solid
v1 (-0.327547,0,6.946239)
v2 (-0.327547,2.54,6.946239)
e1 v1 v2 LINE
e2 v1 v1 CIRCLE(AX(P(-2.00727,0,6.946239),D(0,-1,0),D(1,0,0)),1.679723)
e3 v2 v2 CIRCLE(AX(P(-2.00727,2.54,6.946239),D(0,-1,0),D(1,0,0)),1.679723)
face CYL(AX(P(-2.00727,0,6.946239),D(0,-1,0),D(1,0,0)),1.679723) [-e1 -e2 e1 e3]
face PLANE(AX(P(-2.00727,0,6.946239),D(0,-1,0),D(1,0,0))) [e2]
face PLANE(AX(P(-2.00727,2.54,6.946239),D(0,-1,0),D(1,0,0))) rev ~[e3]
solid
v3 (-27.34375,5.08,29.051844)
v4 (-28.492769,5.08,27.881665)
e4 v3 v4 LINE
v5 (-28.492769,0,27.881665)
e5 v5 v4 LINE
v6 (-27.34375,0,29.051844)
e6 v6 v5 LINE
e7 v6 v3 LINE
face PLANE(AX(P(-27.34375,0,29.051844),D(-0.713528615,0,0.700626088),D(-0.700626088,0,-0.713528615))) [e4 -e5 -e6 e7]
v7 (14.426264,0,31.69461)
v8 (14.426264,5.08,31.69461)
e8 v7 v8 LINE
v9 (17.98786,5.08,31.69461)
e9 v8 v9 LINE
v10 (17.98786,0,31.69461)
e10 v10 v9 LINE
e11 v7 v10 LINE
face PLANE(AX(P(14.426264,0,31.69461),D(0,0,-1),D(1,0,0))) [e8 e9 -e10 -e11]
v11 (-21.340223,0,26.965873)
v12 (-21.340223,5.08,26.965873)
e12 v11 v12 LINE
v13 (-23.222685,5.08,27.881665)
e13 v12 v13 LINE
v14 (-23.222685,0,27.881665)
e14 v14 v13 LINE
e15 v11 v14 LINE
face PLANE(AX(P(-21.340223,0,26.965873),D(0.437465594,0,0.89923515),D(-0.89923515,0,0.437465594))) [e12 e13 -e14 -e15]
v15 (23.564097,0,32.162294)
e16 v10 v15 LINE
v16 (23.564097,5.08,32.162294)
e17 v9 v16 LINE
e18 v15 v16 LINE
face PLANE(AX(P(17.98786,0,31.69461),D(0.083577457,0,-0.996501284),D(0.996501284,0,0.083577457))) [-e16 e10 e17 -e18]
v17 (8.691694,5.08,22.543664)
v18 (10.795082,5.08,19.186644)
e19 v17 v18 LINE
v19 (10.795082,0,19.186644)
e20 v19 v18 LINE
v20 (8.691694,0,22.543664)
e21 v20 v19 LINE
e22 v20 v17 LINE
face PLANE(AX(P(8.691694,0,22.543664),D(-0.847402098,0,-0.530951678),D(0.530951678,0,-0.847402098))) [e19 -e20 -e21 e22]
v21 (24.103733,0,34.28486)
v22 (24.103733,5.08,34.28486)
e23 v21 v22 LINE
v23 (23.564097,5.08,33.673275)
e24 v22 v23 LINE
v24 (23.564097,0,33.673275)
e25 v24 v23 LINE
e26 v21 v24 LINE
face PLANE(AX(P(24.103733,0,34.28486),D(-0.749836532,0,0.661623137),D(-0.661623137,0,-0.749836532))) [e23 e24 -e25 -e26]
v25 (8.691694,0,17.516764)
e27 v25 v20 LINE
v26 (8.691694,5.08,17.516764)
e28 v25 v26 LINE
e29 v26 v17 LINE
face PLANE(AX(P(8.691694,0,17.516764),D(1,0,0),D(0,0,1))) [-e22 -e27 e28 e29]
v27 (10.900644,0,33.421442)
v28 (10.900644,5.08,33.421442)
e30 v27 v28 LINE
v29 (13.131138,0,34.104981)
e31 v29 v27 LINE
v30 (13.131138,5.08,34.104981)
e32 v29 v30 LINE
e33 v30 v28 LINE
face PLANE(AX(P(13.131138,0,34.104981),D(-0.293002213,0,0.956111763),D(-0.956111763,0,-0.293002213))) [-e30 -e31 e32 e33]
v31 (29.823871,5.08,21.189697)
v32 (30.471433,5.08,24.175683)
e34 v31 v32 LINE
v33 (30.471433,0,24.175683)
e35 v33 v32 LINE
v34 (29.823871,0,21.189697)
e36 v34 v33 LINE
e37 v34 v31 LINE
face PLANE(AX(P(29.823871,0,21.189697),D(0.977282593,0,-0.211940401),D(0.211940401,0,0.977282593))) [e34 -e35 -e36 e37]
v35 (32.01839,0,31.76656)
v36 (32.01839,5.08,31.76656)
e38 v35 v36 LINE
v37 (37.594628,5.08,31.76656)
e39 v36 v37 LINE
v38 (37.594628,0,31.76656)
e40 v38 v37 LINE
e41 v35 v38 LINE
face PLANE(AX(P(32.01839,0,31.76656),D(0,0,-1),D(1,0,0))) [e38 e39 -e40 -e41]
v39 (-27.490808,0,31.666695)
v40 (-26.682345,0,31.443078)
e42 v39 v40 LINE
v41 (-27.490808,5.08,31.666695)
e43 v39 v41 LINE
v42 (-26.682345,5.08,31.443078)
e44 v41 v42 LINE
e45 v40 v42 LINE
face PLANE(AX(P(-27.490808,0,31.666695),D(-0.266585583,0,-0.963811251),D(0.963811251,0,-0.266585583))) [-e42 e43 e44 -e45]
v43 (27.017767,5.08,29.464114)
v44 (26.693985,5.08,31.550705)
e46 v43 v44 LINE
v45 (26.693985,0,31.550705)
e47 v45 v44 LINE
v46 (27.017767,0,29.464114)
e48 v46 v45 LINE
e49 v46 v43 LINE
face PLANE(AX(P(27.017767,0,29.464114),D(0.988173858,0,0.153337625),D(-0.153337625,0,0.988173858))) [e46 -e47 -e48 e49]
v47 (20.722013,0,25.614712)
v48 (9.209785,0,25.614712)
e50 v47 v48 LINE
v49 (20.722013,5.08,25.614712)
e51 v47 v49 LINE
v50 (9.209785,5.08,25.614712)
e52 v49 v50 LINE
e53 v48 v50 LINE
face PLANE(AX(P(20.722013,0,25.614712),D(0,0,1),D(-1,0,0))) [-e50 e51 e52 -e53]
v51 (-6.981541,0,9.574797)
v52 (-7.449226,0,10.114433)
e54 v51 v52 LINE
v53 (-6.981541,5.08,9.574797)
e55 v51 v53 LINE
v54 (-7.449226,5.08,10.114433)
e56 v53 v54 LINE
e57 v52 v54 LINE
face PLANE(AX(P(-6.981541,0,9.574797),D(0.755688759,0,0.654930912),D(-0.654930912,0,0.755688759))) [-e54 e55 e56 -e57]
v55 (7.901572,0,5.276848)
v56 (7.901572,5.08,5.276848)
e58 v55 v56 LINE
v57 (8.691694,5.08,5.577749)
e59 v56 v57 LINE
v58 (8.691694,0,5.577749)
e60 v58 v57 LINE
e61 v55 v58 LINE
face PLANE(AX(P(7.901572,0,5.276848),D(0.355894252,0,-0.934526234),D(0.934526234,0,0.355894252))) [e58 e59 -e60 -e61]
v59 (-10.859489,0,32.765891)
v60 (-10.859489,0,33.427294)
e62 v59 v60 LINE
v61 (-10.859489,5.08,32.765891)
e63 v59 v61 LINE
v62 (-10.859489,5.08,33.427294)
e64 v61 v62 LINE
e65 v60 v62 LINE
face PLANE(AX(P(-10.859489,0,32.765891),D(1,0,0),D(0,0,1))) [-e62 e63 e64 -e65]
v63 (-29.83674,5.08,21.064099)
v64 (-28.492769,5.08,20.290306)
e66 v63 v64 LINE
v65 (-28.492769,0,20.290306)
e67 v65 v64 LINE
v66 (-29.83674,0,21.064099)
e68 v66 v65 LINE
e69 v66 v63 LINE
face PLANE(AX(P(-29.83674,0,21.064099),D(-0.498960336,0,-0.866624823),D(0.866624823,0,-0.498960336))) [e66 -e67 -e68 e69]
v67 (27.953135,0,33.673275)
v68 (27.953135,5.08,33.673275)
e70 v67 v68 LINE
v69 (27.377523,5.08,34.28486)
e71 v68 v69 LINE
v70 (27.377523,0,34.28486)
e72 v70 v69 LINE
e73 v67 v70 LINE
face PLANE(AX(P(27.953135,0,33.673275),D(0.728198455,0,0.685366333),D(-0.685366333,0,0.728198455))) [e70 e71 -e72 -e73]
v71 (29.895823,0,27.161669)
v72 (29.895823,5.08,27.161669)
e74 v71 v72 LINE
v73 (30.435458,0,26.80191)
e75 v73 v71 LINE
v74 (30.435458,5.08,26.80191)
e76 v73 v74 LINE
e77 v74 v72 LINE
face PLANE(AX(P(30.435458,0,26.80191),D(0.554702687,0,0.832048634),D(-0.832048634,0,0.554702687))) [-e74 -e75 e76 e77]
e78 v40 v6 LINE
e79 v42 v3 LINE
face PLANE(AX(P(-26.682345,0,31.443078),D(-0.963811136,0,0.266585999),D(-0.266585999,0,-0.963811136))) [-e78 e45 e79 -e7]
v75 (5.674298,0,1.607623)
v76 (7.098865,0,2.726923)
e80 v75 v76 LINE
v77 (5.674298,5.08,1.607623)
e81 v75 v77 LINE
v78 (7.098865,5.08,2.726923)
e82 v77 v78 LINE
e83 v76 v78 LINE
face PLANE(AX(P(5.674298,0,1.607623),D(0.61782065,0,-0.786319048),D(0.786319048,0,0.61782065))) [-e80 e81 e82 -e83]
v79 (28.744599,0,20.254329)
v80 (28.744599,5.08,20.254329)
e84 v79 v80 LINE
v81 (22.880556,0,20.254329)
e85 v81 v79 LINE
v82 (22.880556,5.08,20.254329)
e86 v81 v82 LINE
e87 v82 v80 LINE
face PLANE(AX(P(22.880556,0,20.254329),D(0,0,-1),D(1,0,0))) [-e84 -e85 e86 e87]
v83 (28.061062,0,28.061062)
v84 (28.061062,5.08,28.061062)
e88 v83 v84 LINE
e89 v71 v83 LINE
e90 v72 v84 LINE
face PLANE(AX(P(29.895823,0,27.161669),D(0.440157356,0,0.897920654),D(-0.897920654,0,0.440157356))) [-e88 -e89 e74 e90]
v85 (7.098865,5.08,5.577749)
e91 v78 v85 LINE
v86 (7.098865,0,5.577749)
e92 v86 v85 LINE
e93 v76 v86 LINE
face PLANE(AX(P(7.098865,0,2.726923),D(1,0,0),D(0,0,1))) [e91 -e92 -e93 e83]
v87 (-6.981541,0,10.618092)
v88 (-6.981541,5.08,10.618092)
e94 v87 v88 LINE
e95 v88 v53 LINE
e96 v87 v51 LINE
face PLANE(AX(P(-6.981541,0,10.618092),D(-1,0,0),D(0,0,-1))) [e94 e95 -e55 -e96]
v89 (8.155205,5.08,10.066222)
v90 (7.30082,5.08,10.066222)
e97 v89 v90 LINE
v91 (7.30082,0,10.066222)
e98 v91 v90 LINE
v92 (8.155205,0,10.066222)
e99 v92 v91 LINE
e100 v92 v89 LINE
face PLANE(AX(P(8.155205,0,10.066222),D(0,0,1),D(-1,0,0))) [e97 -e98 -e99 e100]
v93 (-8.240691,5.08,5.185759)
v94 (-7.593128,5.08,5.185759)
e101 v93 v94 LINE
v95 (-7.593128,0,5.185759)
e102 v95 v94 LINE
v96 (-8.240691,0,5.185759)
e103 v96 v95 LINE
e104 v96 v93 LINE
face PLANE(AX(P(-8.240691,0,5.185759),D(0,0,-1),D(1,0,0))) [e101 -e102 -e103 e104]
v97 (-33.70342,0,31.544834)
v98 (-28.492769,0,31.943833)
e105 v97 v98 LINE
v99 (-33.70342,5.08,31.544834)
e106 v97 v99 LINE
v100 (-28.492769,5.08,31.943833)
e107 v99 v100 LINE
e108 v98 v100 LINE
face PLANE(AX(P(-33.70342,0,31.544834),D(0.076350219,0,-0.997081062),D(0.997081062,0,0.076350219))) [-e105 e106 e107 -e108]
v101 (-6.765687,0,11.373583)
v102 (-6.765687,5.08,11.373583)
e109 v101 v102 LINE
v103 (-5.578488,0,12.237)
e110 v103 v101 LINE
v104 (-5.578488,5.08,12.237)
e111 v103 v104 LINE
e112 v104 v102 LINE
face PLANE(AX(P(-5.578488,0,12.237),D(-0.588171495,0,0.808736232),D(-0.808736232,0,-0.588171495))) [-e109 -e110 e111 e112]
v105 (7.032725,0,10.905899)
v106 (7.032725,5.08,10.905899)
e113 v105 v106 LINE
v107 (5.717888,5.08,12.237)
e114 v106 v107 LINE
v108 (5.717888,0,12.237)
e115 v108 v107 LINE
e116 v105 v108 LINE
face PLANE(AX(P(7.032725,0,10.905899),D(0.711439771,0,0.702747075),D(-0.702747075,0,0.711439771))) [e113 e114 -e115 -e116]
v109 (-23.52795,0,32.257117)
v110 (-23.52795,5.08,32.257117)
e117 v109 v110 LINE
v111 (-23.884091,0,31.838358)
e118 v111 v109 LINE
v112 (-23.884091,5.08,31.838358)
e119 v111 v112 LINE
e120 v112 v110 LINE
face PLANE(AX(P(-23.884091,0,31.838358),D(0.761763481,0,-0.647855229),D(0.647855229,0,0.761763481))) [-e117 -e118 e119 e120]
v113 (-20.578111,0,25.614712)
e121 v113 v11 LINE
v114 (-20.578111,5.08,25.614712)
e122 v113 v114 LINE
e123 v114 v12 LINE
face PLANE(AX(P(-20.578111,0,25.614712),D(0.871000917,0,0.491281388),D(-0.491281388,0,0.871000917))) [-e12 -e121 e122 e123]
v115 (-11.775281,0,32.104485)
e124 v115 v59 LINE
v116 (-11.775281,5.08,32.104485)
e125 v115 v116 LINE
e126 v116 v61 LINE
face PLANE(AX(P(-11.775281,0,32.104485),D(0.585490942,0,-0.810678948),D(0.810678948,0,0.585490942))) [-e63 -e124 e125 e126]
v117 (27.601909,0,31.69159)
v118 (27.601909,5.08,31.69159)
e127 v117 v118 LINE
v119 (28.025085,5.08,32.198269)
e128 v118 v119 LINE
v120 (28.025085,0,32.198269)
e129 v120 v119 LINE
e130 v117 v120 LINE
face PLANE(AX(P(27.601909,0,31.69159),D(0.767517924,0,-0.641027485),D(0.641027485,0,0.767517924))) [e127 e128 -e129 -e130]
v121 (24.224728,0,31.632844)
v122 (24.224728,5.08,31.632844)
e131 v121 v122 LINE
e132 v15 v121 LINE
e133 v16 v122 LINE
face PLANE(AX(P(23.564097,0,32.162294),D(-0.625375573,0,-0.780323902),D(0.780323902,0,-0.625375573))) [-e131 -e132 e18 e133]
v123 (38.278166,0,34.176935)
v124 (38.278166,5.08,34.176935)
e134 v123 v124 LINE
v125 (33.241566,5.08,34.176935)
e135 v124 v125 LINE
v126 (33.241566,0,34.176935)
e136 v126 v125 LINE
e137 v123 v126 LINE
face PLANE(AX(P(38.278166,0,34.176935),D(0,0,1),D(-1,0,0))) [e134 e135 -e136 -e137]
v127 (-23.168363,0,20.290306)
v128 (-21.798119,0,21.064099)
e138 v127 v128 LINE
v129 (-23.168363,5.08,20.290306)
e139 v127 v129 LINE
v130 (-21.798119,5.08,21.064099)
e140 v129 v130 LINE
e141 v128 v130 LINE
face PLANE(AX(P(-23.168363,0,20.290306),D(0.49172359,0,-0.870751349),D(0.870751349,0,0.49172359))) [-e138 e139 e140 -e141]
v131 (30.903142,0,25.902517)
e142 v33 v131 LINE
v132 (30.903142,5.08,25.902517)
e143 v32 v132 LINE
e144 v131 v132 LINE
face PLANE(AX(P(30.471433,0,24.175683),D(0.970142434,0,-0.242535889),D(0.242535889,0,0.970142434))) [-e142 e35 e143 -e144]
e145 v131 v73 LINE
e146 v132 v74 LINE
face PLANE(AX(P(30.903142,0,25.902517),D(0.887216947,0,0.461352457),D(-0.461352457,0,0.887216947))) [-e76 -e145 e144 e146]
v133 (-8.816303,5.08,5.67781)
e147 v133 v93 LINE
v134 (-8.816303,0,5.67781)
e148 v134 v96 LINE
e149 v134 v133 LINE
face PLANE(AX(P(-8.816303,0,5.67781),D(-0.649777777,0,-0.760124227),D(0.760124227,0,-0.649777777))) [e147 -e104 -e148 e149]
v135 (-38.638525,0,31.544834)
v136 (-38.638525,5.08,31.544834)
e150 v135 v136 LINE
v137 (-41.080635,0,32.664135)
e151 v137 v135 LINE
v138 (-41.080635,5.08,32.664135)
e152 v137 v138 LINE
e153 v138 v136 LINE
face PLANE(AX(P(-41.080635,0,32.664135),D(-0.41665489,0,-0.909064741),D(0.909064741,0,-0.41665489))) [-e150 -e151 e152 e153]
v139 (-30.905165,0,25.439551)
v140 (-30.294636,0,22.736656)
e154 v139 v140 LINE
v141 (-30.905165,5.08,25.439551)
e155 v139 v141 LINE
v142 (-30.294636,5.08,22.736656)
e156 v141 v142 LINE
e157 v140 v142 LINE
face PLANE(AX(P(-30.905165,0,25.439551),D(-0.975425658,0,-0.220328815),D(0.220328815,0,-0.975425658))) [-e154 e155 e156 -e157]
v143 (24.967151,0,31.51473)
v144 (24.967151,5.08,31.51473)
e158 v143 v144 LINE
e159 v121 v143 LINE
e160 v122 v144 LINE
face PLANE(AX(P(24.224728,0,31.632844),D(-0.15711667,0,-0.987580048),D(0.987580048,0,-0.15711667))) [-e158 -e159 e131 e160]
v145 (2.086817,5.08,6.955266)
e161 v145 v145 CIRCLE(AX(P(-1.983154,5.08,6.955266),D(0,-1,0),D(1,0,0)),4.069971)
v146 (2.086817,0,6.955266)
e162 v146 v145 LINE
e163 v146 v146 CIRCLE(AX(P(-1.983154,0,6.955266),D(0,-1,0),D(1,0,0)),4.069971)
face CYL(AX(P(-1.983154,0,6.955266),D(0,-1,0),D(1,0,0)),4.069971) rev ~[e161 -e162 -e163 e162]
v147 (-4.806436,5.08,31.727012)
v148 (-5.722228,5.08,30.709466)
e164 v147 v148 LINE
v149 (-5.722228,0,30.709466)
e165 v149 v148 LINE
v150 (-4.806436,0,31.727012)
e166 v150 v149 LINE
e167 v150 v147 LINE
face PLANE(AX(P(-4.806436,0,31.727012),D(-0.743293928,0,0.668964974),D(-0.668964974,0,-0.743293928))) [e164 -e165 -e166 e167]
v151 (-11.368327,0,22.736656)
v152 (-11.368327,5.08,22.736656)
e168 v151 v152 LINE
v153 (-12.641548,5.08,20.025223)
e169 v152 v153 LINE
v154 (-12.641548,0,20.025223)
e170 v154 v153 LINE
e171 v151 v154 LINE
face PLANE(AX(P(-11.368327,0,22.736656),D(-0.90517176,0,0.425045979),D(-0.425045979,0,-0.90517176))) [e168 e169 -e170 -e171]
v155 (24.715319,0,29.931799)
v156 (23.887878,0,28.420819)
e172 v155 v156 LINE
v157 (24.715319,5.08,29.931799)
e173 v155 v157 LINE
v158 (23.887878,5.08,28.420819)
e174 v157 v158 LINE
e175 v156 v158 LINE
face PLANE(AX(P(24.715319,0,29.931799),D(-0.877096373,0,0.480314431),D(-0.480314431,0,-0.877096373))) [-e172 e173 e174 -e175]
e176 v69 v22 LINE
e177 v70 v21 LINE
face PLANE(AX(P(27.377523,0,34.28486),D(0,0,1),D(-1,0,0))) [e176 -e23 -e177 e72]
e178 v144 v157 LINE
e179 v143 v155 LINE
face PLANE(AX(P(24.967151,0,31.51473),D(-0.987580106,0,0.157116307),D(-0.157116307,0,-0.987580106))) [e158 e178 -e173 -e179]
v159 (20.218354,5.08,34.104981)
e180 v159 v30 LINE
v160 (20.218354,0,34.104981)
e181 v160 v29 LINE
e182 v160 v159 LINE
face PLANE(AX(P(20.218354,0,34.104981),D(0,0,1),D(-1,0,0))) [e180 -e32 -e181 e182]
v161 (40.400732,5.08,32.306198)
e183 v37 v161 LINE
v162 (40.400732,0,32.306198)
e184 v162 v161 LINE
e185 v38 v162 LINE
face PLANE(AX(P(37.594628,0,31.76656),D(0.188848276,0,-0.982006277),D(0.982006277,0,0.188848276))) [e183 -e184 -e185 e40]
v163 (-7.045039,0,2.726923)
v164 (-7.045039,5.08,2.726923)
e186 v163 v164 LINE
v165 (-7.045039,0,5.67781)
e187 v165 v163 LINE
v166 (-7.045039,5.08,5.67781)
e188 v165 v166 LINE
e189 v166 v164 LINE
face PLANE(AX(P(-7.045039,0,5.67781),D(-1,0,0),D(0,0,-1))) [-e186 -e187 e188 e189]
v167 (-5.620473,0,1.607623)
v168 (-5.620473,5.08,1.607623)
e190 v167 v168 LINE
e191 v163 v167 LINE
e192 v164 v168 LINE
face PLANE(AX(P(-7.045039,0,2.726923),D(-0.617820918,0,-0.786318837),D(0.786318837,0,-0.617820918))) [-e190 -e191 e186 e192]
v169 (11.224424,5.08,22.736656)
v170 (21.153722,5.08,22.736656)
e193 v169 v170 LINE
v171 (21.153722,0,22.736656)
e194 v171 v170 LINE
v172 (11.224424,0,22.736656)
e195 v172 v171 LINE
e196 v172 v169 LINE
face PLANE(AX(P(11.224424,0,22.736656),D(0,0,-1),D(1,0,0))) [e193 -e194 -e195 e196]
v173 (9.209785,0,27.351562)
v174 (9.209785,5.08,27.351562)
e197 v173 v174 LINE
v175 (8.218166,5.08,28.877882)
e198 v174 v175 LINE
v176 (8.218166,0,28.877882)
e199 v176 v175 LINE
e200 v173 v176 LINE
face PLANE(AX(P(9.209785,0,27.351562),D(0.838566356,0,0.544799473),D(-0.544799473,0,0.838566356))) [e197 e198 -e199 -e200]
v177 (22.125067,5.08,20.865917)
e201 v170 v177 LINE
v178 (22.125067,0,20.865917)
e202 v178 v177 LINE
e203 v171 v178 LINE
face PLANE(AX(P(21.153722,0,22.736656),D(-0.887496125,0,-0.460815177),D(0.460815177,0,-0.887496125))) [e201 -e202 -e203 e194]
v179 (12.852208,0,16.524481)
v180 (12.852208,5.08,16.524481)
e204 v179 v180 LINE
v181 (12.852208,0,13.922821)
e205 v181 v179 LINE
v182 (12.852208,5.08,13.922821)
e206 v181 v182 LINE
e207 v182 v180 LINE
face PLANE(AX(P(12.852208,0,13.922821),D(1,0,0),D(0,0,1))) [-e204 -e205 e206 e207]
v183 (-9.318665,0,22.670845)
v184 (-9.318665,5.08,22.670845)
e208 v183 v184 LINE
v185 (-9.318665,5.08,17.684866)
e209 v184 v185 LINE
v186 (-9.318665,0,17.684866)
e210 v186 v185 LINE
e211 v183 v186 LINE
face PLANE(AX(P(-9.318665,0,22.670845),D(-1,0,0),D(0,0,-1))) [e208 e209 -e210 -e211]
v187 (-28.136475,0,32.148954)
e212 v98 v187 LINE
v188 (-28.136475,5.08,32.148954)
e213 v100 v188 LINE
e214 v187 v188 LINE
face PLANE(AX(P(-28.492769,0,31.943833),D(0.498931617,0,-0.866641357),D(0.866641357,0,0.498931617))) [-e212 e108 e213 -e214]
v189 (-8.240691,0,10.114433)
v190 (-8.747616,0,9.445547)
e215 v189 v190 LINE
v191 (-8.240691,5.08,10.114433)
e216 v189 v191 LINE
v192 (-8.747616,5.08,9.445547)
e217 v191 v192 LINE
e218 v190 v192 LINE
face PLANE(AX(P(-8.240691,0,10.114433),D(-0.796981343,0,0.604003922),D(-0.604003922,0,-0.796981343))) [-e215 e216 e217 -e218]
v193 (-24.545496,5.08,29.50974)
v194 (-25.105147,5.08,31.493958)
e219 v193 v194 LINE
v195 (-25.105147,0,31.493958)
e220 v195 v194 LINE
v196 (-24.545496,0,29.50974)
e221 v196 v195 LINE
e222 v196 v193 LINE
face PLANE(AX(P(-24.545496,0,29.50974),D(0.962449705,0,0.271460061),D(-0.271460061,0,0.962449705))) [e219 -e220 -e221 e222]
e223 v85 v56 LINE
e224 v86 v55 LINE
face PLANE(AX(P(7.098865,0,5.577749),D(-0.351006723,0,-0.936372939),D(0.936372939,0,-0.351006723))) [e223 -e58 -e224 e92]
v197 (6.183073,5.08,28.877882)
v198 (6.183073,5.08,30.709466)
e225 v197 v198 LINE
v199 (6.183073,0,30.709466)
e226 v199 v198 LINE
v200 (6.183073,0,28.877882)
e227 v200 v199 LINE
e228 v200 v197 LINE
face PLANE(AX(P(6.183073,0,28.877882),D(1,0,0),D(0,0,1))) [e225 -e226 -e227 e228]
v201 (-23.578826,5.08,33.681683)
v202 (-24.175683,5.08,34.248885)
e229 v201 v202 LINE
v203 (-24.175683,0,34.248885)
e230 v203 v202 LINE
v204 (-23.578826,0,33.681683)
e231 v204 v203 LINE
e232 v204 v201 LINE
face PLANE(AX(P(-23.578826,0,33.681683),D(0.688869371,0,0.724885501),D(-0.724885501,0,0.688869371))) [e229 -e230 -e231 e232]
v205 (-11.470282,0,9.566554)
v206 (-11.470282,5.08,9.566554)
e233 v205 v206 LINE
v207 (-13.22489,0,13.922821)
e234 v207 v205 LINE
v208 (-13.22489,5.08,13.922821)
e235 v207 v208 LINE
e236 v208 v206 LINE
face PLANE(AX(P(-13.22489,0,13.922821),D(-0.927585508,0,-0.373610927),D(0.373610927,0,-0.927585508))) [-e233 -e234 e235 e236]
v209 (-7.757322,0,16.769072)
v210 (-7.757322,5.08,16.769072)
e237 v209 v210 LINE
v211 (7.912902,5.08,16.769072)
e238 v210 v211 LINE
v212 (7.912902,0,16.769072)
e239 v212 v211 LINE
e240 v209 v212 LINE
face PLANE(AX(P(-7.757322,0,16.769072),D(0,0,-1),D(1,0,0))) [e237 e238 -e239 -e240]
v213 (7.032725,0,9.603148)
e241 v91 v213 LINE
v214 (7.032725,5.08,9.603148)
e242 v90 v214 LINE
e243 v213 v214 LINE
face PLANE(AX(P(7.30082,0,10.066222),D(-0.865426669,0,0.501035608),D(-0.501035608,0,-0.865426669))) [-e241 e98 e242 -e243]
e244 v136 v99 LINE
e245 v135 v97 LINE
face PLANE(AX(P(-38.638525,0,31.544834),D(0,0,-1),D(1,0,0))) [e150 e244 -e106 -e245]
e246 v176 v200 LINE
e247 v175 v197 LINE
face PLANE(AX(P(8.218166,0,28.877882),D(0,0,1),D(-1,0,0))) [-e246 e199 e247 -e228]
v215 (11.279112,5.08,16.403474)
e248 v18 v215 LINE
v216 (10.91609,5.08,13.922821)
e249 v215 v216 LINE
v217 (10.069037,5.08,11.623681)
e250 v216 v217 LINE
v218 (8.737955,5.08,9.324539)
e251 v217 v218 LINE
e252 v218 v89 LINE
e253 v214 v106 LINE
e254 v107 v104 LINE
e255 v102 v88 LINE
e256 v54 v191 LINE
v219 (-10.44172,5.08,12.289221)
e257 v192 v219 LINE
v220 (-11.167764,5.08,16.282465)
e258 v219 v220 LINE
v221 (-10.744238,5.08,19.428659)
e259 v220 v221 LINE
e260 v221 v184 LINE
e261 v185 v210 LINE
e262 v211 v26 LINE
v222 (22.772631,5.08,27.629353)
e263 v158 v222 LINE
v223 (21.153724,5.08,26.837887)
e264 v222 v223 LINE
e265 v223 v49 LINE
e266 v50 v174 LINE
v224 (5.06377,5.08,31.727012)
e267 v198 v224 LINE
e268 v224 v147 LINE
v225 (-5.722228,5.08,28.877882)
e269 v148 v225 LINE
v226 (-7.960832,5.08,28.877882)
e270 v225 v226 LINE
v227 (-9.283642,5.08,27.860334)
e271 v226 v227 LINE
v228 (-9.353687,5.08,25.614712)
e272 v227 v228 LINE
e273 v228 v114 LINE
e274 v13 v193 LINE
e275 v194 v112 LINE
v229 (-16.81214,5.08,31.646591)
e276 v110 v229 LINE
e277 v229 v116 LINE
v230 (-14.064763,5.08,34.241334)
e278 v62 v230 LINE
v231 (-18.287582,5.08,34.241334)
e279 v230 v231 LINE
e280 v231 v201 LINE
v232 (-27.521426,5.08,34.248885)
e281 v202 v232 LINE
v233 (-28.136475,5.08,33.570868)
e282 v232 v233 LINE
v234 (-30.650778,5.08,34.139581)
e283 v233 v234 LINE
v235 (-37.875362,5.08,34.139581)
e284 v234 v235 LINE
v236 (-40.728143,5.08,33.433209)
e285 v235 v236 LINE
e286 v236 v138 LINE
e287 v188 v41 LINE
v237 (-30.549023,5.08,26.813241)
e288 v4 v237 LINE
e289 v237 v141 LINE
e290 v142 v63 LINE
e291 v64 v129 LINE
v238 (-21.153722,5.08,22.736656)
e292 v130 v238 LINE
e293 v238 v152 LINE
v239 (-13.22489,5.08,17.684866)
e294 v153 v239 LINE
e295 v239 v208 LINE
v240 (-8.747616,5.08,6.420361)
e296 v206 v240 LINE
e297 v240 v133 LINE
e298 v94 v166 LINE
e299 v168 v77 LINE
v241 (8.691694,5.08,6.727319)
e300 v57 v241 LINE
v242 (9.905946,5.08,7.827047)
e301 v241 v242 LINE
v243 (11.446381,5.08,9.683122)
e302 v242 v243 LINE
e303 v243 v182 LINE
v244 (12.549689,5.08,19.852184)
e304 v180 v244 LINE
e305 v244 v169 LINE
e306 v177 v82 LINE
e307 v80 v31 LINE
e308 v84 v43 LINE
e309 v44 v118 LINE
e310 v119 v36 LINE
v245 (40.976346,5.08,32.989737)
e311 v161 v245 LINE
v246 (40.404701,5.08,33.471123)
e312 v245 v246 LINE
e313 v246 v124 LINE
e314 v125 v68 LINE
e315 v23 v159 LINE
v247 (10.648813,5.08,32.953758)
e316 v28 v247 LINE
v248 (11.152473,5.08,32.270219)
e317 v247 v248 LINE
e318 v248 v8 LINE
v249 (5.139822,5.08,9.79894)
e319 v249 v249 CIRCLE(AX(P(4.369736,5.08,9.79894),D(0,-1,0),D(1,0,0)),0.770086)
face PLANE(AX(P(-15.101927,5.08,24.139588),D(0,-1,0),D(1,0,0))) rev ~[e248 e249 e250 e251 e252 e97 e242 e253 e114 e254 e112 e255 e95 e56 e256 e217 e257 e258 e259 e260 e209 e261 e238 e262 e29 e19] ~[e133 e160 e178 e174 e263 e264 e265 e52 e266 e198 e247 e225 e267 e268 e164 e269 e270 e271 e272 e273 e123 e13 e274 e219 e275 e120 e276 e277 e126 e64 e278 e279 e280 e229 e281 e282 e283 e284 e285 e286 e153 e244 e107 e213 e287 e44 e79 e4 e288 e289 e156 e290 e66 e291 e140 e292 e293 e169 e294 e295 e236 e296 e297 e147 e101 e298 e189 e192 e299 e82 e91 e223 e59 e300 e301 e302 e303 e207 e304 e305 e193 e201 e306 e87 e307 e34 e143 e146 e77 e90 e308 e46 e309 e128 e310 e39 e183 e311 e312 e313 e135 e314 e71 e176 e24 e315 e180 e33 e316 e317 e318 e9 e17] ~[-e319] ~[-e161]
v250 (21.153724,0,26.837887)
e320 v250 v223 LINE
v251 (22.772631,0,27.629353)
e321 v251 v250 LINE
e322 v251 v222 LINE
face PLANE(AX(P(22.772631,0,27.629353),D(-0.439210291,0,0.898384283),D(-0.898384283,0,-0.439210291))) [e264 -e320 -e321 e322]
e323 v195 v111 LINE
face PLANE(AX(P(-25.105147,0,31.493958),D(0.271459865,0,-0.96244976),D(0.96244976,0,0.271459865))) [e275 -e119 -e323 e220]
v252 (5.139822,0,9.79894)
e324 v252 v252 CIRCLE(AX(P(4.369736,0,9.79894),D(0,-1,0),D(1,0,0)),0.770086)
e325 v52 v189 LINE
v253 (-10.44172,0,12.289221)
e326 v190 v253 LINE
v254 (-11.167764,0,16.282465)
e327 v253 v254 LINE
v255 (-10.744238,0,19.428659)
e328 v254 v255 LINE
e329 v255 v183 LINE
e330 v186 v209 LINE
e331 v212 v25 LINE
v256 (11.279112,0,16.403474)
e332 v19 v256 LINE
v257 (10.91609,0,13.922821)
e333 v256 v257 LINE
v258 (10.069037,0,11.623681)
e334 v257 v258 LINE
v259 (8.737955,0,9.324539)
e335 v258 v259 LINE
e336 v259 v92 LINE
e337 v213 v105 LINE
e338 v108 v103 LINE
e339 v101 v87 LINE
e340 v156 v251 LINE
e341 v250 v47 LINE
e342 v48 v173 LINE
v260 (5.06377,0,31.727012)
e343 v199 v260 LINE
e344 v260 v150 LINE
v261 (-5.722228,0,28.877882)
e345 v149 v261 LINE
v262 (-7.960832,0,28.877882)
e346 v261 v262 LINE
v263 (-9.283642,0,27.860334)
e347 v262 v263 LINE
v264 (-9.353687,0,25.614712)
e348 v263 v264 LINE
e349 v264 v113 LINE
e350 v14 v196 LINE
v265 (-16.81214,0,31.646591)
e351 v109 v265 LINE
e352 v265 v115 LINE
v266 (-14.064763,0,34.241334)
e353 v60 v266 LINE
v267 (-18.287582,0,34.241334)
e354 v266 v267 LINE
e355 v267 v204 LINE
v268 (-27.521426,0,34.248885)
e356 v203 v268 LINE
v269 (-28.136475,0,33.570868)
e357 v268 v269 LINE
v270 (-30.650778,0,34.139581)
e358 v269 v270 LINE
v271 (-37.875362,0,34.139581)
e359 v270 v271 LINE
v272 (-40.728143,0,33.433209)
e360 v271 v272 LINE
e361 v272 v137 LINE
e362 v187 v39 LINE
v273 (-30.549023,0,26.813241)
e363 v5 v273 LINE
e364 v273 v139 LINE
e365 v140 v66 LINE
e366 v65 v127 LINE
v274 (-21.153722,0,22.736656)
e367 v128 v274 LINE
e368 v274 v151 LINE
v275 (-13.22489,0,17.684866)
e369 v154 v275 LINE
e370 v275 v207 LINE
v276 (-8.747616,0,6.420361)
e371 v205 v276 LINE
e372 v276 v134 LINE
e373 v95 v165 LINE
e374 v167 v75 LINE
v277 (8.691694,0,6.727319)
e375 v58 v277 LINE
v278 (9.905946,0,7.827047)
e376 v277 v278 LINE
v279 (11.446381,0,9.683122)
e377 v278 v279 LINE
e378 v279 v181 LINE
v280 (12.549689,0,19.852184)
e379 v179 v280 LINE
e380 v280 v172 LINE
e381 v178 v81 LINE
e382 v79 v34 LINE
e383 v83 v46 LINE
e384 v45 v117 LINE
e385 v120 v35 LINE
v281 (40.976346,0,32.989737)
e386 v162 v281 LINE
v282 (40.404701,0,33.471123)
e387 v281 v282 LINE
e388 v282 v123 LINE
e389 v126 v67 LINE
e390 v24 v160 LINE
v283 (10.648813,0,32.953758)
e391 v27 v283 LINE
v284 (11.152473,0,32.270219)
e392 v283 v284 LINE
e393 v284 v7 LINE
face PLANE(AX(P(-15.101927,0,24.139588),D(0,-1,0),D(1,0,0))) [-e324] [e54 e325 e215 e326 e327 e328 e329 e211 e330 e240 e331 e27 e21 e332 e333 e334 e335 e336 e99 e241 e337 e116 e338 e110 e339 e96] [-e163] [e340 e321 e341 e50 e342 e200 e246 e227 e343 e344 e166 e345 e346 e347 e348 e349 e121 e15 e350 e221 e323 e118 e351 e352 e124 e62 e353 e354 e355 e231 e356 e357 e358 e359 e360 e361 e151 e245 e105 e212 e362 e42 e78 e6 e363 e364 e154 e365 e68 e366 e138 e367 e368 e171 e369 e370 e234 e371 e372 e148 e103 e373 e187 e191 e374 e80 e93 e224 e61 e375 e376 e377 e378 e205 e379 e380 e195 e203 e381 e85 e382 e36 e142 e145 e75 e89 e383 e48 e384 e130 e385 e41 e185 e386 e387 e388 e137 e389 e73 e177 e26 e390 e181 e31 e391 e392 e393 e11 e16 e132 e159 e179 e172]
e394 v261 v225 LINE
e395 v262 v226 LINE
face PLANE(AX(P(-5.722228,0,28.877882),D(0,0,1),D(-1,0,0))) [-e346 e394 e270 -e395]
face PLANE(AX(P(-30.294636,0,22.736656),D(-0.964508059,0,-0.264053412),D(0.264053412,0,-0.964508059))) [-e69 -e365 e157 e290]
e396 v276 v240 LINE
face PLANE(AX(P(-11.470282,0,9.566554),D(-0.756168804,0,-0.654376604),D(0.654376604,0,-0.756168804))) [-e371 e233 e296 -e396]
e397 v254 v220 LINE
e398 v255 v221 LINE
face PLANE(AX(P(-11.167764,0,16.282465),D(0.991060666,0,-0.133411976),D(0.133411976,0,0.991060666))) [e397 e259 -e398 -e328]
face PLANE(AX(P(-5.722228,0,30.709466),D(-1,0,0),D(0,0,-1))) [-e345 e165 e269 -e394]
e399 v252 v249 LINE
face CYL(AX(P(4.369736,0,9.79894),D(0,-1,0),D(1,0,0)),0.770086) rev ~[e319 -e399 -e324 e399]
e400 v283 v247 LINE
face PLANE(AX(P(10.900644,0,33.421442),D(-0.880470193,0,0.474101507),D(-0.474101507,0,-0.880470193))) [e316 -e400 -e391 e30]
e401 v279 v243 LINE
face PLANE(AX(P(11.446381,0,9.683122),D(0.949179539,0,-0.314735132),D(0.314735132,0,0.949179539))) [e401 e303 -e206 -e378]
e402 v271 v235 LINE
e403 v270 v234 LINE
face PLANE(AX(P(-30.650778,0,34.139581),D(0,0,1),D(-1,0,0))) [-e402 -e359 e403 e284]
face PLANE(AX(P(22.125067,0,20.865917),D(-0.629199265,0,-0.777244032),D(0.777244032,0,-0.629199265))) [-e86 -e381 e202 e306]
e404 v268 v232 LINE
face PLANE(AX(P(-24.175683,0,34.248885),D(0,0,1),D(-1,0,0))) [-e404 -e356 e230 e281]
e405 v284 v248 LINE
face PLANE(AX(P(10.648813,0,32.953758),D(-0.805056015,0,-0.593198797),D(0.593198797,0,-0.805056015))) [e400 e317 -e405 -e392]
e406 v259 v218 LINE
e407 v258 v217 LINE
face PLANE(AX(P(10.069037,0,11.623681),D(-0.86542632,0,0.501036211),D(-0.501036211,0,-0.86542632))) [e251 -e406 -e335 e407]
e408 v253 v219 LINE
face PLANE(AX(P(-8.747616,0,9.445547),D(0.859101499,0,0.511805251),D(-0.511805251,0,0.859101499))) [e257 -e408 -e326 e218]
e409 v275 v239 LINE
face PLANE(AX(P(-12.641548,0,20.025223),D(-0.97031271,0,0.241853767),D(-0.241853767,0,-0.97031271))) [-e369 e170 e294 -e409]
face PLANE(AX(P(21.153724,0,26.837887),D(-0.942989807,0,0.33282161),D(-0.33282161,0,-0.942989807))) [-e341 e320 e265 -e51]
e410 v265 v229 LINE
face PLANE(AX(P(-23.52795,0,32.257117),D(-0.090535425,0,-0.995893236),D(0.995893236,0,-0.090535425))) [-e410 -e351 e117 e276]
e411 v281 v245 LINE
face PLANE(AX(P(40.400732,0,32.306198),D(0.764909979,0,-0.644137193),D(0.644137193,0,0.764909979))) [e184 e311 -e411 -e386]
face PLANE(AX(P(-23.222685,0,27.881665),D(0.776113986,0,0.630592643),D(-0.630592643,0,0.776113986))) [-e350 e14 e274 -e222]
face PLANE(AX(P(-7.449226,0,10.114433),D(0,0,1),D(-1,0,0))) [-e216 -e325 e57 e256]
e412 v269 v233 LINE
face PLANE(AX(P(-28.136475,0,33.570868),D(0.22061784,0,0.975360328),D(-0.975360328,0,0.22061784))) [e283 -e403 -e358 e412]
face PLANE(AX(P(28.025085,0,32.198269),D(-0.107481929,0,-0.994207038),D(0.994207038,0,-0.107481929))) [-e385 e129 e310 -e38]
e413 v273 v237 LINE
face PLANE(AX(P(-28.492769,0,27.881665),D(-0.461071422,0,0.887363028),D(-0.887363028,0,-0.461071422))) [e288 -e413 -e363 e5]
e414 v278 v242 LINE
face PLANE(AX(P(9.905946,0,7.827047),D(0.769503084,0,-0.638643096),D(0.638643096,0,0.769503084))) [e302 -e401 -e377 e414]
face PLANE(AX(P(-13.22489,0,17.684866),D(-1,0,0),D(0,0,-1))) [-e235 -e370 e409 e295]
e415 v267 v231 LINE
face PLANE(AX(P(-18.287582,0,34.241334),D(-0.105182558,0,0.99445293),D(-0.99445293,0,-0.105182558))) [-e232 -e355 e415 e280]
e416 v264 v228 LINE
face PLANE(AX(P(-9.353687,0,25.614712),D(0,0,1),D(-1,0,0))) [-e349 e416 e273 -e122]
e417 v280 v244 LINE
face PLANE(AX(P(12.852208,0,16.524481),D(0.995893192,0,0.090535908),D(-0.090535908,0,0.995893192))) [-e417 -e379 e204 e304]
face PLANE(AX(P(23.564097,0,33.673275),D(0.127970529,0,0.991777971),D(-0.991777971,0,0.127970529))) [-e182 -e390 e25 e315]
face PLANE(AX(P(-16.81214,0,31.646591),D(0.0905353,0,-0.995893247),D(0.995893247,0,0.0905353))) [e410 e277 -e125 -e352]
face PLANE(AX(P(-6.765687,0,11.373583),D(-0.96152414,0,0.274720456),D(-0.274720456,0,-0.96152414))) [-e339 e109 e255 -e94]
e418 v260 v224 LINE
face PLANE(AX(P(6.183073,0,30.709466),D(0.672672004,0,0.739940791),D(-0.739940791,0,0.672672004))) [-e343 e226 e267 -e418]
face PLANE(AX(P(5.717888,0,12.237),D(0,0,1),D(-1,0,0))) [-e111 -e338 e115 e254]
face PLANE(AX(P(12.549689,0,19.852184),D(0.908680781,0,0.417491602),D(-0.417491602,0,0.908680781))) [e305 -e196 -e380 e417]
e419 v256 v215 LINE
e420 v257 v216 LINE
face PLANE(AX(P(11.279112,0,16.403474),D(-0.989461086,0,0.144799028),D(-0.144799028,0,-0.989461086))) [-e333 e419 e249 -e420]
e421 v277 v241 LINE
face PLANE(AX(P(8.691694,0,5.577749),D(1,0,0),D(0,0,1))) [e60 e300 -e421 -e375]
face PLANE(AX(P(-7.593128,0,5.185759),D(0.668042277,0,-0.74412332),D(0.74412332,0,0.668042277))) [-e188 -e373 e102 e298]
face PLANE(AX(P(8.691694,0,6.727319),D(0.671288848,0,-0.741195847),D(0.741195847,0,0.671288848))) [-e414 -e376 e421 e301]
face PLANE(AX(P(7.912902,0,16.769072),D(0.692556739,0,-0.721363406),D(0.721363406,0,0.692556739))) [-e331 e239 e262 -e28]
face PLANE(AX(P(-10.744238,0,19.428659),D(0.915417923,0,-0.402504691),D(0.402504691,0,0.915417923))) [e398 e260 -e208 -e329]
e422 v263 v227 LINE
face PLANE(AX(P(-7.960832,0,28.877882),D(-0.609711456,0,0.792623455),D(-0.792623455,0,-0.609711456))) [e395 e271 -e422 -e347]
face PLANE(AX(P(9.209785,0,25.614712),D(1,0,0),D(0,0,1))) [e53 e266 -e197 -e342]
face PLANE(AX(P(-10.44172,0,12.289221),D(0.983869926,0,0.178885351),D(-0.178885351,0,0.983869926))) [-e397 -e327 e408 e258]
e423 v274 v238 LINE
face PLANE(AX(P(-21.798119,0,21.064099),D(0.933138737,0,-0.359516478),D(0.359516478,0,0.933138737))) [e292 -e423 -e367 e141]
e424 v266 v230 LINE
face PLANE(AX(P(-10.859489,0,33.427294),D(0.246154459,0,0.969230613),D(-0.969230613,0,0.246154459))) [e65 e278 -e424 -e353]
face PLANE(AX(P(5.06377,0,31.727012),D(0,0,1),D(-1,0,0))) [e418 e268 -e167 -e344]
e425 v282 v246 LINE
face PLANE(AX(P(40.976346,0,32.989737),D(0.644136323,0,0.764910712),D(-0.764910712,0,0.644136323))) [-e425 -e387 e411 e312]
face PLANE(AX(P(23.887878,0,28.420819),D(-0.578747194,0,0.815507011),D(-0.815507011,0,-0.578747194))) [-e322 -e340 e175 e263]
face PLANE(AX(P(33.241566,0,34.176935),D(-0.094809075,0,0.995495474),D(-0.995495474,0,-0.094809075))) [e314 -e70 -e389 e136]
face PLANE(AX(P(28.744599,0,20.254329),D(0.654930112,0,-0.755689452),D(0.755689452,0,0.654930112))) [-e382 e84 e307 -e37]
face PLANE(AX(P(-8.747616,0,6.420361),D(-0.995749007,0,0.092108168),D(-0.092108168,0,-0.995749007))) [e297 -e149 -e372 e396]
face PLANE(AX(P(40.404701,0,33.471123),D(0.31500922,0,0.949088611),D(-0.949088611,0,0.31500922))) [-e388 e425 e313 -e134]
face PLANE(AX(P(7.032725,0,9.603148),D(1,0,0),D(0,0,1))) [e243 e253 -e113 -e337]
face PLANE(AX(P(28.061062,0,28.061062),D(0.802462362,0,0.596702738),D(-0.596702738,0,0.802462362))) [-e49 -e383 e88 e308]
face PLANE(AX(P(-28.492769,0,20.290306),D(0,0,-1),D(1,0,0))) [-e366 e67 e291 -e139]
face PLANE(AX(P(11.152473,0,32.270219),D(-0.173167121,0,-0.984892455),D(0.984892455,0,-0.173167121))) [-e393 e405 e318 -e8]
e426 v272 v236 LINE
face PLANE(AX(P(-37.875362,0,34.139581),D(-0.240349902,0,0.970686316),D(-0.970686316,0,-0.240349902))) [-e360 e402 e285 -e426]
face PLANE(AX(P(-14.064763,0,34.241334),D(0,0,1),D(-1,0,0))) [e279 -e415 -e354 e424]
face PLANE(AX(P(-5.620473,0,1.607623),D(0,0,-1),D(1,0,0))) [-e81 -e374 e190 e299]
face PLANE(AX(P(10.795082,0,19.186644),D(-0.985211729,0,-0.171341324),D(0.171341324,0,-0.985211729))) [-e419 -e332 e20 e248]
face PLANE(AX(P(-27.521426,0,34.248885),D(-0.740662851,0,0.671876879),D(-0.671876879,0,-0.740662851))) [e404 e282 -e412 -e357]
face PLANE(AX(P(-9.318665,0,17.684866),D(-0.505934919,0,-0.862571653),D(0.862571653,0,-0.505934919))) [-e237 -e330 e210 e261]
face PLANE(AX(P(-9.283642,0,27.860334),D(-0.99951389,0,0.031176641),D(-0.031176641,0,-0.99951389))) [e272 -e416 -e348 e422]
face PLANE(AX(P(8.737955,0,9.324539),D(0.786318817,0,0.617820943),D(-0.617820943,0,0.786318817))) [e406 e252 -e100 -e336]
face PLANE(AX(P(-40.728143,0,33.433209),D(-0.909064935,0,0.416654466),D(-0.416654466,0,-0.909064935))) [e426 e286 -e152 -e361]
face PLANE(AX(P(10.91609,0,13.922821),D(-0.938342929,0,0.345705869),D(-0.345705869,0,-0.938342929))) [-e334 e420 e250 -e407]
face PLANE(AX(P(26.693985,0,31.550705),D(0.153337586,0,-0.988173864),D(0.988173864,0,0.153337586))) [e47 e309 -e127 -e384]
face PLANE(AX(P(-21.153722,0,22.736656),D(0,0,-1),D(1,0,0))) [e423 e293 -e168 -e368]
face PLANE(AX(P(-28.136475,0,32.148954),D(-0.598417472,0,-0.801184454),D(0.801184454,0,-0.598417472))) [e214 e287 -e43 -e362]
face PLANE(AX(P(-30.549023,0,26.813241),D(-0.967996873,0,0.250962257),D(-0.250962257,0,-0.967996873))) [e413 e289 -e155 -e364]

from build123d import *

# Parameters (mm, degrees)
F0_R     = 4.069971
F0_R_2   = 0.770086
F1_DEPTH = 5.08
F2_R     = 1.679723
F3_DEPTH = 2.54


with BuildPart() as f1:
    # F0 (on Front) → F1 (new body)
    with BuildSketch(Plane.XZ):
        Polygon((-9.318665, 22.670845), (-9.353687, 25.614712), (-20.578111, 25.614712), (-21.153722, 22.736656), (-11.368327, 22.736656), align=None)
        Polygon((-9.283642, 27.860334), (-9.353687, 25.614712), (-9.318665, 22.670845), (-9.318665, 17.684866), (-7.757322, 16.769072), (7.912902, 16.769072), (8.691694, 17.516764), (8.691694, 22.543664), (9.209785, 25.614712), (9.209785, 27.351562), (8.218166, 28.877882), (6.183073, 28.877882), (6.183073, 30.709466), (5.06377, 31.727012), (-4.806436, 31.727012), (-5.722228, 30.709466), (-5.722228, 28.877882), (-7.960832, 28.877882), align=None)
        Polygon((-21.153722, 22.736656), (-20.578111, 25.614712), (-21.340223, 26.965873), (-23.222685, 27.881665), (-24.545496, 29.50974), (-25.105147, 31.493958), (-23.884091, 31.838358), (-23.52795, 32.257117), (-16.81214, 31.646591), (-11.775281, 32.104485), (-10.859489, 32.765891), (-10.859489, 33.427294), (-14.064763, 34.241334), (-18.287582, 34.241334), (-23.578826, 33.681683), (-24.175683, 34.248885), (-27.521426, 34.248885), (-28.136475, 33.570868), (-26.377082, 33.172909), (-26.334074, 32.766288), (-28.136475, 32.148954), (-27.490808, 31.666695), (-26.682345, 31.443078), (-27.34375, 29.051844), (-28.492769, 27.881665), (-30.549023, 26.813241), (-30.905165, 25.439551), (-30.294636, 22.736656), (-29.83674, 21.064099), (-28.492769, 20.290306), (-23.168363, 20.290306), (-21.798119, 21.064099), align=None)
        Polygon((-10.744238, 19.428659), (-9.318665, 22.670845), (-11.368327, 22.736656), (-12.641548, 20.025223), (-13.22489, 17.684866), (-13.22489, 13.922821), (-11.470282, 9.566554), (-8.747616, 6.420361), (-8.747616, 9.445547), (-10.44172, 12.289221), (-11.167764, 16.282465), align=None)
        Polygon((-8.240691, 10.114433), (-8.747616, 9.445547), (-8.747616, 6.420361), (-8.816303, 5.67781), (-8.240691, 5.185759), (-7.593128, 5.185759), (-7.045039, 5.67781), (-6.981541, 9.574797), (-7.449226, 10.114433), align=None)
        Polygon((11.224424, 22.736656), (8.691694, 22.543664), (10.795082, 19.186644), (11.279112, 16.403474), (10.91609, 13.922821), (10.069037, 11.623681), (8.737955, 9.324539), (8.155205, 10.066222), (7.30082, 10.066222), (7.032725, 9.603148), (7.098865, 5.577749), (7.901572, 5.276848), (8.691694, 5.577749), (8.691694, 6.727319), (9.905946, 7.827047), (11.446381, 9.683122), (12.852208, 13.922821), (12.852208, 16.524481), (12.549689, 19.852184), align=None)
        Polygon((9.209785, 25.614712), (8.691694, 22.543664), (11.224424, 22.736656), (21.153722, 22.736656), (20.722013, 25.614712), align=None)
        Polygon((7.098865, 5.577749), (7.032725, 9.603148), (7.032725, 10.905899), (5.717888, 12.237), (-5.578488, 12.237), (-6.765687, 11.373583), (-6.981541, 10.618092), (-6.981541, 9.574797), (-7.045039, 5.67781), (-7.045039, 2.726923), (-5.620473, 1.607623), (5.674298, 1.607623), (7.098865, 2.726923), align=None)
        with Locations((-1.983154, 6.955266)):
            Circle(F0_R, mode=Mode.SUBTRACT)
        with Locations((4.369736, 9.79894)):
            Circle(F0_R_2, mode=Mode.SUBTRACT)
        Polygon((20.722013, 25.614712), (21.153722, 22.736656), (22.125067, 20.865917), (22.880556, 20.254329), (28.744599, 20.254329), (29.823871, 21.189697), (30.471433, 24.175683), (30.903142, 25.902517), (30.435458, 26.80191), (29.895823, 27.161669), (28.061062, 28.061062), (27.017767, 29.464114), (26.693985, 31.550705), (27.601909, 31.69159), (28.025085, 32.198269), (32.01839, 31.76656), (37.594628, 31.76656), (40.400732, 32.306198), (40.976346, 32.989737), (40.404701, 33.471123), (38.278166, 34.176935), (33.241566, 34.176935), (27.953135, 33.673275), (27.377523, 34.28486), (24.103733, 34.28486), (23.564097, 33.673275), (25.092266, 33.271004), (25.092266, 32.609597), (23.564097, 32.162294), (24.224728, 31.632844), (24.967151, 31.51473), (24.715319, 29.931799), (23.887878, 28.420819), (22.772631, 27.629353), (21.153724, 26.837887), align=None)
        Polygon((-28.492769, 31.943833), (-28.136475, 32.148954), (-26.334074, 32.766288), (-26.377082, 33.172909), (-28.136475, 33.570868), (-30.650778, 34.139581), (-37.875362, 34.139581), (-40.728143, 33.433209), (-41.080635, 32.664135), (-38.638525, 31.544834), (-33.70342, 31.544834), align=None)
        Polygon((17.98786, 31.69461), (23.564097, 32.162294), (25.092266, 32.609597), (25.092266, 33.271004), (23.564097, 33.673275), (20.218354, 34.104981), (15.757365, 34.104981), (13.131138, 34.104981), (10.900644, 33.421442), (10.648813, 32.953758), (11.152473, 32.270219), (14.426264, 31.69461), align=None)
    extrude(amount=-F1_DEPTH)


with BuildPart() as f3:
    # F2 (on Front) → F3 (new body)
    with BuildSketch(Plane.XZ):
        with Locations((-2.00727, 6.946239)):
            Circle(F2_R)
    extrude(amount=-F3_DEPTH)


solid = Compound([f1.part, f3.part])
